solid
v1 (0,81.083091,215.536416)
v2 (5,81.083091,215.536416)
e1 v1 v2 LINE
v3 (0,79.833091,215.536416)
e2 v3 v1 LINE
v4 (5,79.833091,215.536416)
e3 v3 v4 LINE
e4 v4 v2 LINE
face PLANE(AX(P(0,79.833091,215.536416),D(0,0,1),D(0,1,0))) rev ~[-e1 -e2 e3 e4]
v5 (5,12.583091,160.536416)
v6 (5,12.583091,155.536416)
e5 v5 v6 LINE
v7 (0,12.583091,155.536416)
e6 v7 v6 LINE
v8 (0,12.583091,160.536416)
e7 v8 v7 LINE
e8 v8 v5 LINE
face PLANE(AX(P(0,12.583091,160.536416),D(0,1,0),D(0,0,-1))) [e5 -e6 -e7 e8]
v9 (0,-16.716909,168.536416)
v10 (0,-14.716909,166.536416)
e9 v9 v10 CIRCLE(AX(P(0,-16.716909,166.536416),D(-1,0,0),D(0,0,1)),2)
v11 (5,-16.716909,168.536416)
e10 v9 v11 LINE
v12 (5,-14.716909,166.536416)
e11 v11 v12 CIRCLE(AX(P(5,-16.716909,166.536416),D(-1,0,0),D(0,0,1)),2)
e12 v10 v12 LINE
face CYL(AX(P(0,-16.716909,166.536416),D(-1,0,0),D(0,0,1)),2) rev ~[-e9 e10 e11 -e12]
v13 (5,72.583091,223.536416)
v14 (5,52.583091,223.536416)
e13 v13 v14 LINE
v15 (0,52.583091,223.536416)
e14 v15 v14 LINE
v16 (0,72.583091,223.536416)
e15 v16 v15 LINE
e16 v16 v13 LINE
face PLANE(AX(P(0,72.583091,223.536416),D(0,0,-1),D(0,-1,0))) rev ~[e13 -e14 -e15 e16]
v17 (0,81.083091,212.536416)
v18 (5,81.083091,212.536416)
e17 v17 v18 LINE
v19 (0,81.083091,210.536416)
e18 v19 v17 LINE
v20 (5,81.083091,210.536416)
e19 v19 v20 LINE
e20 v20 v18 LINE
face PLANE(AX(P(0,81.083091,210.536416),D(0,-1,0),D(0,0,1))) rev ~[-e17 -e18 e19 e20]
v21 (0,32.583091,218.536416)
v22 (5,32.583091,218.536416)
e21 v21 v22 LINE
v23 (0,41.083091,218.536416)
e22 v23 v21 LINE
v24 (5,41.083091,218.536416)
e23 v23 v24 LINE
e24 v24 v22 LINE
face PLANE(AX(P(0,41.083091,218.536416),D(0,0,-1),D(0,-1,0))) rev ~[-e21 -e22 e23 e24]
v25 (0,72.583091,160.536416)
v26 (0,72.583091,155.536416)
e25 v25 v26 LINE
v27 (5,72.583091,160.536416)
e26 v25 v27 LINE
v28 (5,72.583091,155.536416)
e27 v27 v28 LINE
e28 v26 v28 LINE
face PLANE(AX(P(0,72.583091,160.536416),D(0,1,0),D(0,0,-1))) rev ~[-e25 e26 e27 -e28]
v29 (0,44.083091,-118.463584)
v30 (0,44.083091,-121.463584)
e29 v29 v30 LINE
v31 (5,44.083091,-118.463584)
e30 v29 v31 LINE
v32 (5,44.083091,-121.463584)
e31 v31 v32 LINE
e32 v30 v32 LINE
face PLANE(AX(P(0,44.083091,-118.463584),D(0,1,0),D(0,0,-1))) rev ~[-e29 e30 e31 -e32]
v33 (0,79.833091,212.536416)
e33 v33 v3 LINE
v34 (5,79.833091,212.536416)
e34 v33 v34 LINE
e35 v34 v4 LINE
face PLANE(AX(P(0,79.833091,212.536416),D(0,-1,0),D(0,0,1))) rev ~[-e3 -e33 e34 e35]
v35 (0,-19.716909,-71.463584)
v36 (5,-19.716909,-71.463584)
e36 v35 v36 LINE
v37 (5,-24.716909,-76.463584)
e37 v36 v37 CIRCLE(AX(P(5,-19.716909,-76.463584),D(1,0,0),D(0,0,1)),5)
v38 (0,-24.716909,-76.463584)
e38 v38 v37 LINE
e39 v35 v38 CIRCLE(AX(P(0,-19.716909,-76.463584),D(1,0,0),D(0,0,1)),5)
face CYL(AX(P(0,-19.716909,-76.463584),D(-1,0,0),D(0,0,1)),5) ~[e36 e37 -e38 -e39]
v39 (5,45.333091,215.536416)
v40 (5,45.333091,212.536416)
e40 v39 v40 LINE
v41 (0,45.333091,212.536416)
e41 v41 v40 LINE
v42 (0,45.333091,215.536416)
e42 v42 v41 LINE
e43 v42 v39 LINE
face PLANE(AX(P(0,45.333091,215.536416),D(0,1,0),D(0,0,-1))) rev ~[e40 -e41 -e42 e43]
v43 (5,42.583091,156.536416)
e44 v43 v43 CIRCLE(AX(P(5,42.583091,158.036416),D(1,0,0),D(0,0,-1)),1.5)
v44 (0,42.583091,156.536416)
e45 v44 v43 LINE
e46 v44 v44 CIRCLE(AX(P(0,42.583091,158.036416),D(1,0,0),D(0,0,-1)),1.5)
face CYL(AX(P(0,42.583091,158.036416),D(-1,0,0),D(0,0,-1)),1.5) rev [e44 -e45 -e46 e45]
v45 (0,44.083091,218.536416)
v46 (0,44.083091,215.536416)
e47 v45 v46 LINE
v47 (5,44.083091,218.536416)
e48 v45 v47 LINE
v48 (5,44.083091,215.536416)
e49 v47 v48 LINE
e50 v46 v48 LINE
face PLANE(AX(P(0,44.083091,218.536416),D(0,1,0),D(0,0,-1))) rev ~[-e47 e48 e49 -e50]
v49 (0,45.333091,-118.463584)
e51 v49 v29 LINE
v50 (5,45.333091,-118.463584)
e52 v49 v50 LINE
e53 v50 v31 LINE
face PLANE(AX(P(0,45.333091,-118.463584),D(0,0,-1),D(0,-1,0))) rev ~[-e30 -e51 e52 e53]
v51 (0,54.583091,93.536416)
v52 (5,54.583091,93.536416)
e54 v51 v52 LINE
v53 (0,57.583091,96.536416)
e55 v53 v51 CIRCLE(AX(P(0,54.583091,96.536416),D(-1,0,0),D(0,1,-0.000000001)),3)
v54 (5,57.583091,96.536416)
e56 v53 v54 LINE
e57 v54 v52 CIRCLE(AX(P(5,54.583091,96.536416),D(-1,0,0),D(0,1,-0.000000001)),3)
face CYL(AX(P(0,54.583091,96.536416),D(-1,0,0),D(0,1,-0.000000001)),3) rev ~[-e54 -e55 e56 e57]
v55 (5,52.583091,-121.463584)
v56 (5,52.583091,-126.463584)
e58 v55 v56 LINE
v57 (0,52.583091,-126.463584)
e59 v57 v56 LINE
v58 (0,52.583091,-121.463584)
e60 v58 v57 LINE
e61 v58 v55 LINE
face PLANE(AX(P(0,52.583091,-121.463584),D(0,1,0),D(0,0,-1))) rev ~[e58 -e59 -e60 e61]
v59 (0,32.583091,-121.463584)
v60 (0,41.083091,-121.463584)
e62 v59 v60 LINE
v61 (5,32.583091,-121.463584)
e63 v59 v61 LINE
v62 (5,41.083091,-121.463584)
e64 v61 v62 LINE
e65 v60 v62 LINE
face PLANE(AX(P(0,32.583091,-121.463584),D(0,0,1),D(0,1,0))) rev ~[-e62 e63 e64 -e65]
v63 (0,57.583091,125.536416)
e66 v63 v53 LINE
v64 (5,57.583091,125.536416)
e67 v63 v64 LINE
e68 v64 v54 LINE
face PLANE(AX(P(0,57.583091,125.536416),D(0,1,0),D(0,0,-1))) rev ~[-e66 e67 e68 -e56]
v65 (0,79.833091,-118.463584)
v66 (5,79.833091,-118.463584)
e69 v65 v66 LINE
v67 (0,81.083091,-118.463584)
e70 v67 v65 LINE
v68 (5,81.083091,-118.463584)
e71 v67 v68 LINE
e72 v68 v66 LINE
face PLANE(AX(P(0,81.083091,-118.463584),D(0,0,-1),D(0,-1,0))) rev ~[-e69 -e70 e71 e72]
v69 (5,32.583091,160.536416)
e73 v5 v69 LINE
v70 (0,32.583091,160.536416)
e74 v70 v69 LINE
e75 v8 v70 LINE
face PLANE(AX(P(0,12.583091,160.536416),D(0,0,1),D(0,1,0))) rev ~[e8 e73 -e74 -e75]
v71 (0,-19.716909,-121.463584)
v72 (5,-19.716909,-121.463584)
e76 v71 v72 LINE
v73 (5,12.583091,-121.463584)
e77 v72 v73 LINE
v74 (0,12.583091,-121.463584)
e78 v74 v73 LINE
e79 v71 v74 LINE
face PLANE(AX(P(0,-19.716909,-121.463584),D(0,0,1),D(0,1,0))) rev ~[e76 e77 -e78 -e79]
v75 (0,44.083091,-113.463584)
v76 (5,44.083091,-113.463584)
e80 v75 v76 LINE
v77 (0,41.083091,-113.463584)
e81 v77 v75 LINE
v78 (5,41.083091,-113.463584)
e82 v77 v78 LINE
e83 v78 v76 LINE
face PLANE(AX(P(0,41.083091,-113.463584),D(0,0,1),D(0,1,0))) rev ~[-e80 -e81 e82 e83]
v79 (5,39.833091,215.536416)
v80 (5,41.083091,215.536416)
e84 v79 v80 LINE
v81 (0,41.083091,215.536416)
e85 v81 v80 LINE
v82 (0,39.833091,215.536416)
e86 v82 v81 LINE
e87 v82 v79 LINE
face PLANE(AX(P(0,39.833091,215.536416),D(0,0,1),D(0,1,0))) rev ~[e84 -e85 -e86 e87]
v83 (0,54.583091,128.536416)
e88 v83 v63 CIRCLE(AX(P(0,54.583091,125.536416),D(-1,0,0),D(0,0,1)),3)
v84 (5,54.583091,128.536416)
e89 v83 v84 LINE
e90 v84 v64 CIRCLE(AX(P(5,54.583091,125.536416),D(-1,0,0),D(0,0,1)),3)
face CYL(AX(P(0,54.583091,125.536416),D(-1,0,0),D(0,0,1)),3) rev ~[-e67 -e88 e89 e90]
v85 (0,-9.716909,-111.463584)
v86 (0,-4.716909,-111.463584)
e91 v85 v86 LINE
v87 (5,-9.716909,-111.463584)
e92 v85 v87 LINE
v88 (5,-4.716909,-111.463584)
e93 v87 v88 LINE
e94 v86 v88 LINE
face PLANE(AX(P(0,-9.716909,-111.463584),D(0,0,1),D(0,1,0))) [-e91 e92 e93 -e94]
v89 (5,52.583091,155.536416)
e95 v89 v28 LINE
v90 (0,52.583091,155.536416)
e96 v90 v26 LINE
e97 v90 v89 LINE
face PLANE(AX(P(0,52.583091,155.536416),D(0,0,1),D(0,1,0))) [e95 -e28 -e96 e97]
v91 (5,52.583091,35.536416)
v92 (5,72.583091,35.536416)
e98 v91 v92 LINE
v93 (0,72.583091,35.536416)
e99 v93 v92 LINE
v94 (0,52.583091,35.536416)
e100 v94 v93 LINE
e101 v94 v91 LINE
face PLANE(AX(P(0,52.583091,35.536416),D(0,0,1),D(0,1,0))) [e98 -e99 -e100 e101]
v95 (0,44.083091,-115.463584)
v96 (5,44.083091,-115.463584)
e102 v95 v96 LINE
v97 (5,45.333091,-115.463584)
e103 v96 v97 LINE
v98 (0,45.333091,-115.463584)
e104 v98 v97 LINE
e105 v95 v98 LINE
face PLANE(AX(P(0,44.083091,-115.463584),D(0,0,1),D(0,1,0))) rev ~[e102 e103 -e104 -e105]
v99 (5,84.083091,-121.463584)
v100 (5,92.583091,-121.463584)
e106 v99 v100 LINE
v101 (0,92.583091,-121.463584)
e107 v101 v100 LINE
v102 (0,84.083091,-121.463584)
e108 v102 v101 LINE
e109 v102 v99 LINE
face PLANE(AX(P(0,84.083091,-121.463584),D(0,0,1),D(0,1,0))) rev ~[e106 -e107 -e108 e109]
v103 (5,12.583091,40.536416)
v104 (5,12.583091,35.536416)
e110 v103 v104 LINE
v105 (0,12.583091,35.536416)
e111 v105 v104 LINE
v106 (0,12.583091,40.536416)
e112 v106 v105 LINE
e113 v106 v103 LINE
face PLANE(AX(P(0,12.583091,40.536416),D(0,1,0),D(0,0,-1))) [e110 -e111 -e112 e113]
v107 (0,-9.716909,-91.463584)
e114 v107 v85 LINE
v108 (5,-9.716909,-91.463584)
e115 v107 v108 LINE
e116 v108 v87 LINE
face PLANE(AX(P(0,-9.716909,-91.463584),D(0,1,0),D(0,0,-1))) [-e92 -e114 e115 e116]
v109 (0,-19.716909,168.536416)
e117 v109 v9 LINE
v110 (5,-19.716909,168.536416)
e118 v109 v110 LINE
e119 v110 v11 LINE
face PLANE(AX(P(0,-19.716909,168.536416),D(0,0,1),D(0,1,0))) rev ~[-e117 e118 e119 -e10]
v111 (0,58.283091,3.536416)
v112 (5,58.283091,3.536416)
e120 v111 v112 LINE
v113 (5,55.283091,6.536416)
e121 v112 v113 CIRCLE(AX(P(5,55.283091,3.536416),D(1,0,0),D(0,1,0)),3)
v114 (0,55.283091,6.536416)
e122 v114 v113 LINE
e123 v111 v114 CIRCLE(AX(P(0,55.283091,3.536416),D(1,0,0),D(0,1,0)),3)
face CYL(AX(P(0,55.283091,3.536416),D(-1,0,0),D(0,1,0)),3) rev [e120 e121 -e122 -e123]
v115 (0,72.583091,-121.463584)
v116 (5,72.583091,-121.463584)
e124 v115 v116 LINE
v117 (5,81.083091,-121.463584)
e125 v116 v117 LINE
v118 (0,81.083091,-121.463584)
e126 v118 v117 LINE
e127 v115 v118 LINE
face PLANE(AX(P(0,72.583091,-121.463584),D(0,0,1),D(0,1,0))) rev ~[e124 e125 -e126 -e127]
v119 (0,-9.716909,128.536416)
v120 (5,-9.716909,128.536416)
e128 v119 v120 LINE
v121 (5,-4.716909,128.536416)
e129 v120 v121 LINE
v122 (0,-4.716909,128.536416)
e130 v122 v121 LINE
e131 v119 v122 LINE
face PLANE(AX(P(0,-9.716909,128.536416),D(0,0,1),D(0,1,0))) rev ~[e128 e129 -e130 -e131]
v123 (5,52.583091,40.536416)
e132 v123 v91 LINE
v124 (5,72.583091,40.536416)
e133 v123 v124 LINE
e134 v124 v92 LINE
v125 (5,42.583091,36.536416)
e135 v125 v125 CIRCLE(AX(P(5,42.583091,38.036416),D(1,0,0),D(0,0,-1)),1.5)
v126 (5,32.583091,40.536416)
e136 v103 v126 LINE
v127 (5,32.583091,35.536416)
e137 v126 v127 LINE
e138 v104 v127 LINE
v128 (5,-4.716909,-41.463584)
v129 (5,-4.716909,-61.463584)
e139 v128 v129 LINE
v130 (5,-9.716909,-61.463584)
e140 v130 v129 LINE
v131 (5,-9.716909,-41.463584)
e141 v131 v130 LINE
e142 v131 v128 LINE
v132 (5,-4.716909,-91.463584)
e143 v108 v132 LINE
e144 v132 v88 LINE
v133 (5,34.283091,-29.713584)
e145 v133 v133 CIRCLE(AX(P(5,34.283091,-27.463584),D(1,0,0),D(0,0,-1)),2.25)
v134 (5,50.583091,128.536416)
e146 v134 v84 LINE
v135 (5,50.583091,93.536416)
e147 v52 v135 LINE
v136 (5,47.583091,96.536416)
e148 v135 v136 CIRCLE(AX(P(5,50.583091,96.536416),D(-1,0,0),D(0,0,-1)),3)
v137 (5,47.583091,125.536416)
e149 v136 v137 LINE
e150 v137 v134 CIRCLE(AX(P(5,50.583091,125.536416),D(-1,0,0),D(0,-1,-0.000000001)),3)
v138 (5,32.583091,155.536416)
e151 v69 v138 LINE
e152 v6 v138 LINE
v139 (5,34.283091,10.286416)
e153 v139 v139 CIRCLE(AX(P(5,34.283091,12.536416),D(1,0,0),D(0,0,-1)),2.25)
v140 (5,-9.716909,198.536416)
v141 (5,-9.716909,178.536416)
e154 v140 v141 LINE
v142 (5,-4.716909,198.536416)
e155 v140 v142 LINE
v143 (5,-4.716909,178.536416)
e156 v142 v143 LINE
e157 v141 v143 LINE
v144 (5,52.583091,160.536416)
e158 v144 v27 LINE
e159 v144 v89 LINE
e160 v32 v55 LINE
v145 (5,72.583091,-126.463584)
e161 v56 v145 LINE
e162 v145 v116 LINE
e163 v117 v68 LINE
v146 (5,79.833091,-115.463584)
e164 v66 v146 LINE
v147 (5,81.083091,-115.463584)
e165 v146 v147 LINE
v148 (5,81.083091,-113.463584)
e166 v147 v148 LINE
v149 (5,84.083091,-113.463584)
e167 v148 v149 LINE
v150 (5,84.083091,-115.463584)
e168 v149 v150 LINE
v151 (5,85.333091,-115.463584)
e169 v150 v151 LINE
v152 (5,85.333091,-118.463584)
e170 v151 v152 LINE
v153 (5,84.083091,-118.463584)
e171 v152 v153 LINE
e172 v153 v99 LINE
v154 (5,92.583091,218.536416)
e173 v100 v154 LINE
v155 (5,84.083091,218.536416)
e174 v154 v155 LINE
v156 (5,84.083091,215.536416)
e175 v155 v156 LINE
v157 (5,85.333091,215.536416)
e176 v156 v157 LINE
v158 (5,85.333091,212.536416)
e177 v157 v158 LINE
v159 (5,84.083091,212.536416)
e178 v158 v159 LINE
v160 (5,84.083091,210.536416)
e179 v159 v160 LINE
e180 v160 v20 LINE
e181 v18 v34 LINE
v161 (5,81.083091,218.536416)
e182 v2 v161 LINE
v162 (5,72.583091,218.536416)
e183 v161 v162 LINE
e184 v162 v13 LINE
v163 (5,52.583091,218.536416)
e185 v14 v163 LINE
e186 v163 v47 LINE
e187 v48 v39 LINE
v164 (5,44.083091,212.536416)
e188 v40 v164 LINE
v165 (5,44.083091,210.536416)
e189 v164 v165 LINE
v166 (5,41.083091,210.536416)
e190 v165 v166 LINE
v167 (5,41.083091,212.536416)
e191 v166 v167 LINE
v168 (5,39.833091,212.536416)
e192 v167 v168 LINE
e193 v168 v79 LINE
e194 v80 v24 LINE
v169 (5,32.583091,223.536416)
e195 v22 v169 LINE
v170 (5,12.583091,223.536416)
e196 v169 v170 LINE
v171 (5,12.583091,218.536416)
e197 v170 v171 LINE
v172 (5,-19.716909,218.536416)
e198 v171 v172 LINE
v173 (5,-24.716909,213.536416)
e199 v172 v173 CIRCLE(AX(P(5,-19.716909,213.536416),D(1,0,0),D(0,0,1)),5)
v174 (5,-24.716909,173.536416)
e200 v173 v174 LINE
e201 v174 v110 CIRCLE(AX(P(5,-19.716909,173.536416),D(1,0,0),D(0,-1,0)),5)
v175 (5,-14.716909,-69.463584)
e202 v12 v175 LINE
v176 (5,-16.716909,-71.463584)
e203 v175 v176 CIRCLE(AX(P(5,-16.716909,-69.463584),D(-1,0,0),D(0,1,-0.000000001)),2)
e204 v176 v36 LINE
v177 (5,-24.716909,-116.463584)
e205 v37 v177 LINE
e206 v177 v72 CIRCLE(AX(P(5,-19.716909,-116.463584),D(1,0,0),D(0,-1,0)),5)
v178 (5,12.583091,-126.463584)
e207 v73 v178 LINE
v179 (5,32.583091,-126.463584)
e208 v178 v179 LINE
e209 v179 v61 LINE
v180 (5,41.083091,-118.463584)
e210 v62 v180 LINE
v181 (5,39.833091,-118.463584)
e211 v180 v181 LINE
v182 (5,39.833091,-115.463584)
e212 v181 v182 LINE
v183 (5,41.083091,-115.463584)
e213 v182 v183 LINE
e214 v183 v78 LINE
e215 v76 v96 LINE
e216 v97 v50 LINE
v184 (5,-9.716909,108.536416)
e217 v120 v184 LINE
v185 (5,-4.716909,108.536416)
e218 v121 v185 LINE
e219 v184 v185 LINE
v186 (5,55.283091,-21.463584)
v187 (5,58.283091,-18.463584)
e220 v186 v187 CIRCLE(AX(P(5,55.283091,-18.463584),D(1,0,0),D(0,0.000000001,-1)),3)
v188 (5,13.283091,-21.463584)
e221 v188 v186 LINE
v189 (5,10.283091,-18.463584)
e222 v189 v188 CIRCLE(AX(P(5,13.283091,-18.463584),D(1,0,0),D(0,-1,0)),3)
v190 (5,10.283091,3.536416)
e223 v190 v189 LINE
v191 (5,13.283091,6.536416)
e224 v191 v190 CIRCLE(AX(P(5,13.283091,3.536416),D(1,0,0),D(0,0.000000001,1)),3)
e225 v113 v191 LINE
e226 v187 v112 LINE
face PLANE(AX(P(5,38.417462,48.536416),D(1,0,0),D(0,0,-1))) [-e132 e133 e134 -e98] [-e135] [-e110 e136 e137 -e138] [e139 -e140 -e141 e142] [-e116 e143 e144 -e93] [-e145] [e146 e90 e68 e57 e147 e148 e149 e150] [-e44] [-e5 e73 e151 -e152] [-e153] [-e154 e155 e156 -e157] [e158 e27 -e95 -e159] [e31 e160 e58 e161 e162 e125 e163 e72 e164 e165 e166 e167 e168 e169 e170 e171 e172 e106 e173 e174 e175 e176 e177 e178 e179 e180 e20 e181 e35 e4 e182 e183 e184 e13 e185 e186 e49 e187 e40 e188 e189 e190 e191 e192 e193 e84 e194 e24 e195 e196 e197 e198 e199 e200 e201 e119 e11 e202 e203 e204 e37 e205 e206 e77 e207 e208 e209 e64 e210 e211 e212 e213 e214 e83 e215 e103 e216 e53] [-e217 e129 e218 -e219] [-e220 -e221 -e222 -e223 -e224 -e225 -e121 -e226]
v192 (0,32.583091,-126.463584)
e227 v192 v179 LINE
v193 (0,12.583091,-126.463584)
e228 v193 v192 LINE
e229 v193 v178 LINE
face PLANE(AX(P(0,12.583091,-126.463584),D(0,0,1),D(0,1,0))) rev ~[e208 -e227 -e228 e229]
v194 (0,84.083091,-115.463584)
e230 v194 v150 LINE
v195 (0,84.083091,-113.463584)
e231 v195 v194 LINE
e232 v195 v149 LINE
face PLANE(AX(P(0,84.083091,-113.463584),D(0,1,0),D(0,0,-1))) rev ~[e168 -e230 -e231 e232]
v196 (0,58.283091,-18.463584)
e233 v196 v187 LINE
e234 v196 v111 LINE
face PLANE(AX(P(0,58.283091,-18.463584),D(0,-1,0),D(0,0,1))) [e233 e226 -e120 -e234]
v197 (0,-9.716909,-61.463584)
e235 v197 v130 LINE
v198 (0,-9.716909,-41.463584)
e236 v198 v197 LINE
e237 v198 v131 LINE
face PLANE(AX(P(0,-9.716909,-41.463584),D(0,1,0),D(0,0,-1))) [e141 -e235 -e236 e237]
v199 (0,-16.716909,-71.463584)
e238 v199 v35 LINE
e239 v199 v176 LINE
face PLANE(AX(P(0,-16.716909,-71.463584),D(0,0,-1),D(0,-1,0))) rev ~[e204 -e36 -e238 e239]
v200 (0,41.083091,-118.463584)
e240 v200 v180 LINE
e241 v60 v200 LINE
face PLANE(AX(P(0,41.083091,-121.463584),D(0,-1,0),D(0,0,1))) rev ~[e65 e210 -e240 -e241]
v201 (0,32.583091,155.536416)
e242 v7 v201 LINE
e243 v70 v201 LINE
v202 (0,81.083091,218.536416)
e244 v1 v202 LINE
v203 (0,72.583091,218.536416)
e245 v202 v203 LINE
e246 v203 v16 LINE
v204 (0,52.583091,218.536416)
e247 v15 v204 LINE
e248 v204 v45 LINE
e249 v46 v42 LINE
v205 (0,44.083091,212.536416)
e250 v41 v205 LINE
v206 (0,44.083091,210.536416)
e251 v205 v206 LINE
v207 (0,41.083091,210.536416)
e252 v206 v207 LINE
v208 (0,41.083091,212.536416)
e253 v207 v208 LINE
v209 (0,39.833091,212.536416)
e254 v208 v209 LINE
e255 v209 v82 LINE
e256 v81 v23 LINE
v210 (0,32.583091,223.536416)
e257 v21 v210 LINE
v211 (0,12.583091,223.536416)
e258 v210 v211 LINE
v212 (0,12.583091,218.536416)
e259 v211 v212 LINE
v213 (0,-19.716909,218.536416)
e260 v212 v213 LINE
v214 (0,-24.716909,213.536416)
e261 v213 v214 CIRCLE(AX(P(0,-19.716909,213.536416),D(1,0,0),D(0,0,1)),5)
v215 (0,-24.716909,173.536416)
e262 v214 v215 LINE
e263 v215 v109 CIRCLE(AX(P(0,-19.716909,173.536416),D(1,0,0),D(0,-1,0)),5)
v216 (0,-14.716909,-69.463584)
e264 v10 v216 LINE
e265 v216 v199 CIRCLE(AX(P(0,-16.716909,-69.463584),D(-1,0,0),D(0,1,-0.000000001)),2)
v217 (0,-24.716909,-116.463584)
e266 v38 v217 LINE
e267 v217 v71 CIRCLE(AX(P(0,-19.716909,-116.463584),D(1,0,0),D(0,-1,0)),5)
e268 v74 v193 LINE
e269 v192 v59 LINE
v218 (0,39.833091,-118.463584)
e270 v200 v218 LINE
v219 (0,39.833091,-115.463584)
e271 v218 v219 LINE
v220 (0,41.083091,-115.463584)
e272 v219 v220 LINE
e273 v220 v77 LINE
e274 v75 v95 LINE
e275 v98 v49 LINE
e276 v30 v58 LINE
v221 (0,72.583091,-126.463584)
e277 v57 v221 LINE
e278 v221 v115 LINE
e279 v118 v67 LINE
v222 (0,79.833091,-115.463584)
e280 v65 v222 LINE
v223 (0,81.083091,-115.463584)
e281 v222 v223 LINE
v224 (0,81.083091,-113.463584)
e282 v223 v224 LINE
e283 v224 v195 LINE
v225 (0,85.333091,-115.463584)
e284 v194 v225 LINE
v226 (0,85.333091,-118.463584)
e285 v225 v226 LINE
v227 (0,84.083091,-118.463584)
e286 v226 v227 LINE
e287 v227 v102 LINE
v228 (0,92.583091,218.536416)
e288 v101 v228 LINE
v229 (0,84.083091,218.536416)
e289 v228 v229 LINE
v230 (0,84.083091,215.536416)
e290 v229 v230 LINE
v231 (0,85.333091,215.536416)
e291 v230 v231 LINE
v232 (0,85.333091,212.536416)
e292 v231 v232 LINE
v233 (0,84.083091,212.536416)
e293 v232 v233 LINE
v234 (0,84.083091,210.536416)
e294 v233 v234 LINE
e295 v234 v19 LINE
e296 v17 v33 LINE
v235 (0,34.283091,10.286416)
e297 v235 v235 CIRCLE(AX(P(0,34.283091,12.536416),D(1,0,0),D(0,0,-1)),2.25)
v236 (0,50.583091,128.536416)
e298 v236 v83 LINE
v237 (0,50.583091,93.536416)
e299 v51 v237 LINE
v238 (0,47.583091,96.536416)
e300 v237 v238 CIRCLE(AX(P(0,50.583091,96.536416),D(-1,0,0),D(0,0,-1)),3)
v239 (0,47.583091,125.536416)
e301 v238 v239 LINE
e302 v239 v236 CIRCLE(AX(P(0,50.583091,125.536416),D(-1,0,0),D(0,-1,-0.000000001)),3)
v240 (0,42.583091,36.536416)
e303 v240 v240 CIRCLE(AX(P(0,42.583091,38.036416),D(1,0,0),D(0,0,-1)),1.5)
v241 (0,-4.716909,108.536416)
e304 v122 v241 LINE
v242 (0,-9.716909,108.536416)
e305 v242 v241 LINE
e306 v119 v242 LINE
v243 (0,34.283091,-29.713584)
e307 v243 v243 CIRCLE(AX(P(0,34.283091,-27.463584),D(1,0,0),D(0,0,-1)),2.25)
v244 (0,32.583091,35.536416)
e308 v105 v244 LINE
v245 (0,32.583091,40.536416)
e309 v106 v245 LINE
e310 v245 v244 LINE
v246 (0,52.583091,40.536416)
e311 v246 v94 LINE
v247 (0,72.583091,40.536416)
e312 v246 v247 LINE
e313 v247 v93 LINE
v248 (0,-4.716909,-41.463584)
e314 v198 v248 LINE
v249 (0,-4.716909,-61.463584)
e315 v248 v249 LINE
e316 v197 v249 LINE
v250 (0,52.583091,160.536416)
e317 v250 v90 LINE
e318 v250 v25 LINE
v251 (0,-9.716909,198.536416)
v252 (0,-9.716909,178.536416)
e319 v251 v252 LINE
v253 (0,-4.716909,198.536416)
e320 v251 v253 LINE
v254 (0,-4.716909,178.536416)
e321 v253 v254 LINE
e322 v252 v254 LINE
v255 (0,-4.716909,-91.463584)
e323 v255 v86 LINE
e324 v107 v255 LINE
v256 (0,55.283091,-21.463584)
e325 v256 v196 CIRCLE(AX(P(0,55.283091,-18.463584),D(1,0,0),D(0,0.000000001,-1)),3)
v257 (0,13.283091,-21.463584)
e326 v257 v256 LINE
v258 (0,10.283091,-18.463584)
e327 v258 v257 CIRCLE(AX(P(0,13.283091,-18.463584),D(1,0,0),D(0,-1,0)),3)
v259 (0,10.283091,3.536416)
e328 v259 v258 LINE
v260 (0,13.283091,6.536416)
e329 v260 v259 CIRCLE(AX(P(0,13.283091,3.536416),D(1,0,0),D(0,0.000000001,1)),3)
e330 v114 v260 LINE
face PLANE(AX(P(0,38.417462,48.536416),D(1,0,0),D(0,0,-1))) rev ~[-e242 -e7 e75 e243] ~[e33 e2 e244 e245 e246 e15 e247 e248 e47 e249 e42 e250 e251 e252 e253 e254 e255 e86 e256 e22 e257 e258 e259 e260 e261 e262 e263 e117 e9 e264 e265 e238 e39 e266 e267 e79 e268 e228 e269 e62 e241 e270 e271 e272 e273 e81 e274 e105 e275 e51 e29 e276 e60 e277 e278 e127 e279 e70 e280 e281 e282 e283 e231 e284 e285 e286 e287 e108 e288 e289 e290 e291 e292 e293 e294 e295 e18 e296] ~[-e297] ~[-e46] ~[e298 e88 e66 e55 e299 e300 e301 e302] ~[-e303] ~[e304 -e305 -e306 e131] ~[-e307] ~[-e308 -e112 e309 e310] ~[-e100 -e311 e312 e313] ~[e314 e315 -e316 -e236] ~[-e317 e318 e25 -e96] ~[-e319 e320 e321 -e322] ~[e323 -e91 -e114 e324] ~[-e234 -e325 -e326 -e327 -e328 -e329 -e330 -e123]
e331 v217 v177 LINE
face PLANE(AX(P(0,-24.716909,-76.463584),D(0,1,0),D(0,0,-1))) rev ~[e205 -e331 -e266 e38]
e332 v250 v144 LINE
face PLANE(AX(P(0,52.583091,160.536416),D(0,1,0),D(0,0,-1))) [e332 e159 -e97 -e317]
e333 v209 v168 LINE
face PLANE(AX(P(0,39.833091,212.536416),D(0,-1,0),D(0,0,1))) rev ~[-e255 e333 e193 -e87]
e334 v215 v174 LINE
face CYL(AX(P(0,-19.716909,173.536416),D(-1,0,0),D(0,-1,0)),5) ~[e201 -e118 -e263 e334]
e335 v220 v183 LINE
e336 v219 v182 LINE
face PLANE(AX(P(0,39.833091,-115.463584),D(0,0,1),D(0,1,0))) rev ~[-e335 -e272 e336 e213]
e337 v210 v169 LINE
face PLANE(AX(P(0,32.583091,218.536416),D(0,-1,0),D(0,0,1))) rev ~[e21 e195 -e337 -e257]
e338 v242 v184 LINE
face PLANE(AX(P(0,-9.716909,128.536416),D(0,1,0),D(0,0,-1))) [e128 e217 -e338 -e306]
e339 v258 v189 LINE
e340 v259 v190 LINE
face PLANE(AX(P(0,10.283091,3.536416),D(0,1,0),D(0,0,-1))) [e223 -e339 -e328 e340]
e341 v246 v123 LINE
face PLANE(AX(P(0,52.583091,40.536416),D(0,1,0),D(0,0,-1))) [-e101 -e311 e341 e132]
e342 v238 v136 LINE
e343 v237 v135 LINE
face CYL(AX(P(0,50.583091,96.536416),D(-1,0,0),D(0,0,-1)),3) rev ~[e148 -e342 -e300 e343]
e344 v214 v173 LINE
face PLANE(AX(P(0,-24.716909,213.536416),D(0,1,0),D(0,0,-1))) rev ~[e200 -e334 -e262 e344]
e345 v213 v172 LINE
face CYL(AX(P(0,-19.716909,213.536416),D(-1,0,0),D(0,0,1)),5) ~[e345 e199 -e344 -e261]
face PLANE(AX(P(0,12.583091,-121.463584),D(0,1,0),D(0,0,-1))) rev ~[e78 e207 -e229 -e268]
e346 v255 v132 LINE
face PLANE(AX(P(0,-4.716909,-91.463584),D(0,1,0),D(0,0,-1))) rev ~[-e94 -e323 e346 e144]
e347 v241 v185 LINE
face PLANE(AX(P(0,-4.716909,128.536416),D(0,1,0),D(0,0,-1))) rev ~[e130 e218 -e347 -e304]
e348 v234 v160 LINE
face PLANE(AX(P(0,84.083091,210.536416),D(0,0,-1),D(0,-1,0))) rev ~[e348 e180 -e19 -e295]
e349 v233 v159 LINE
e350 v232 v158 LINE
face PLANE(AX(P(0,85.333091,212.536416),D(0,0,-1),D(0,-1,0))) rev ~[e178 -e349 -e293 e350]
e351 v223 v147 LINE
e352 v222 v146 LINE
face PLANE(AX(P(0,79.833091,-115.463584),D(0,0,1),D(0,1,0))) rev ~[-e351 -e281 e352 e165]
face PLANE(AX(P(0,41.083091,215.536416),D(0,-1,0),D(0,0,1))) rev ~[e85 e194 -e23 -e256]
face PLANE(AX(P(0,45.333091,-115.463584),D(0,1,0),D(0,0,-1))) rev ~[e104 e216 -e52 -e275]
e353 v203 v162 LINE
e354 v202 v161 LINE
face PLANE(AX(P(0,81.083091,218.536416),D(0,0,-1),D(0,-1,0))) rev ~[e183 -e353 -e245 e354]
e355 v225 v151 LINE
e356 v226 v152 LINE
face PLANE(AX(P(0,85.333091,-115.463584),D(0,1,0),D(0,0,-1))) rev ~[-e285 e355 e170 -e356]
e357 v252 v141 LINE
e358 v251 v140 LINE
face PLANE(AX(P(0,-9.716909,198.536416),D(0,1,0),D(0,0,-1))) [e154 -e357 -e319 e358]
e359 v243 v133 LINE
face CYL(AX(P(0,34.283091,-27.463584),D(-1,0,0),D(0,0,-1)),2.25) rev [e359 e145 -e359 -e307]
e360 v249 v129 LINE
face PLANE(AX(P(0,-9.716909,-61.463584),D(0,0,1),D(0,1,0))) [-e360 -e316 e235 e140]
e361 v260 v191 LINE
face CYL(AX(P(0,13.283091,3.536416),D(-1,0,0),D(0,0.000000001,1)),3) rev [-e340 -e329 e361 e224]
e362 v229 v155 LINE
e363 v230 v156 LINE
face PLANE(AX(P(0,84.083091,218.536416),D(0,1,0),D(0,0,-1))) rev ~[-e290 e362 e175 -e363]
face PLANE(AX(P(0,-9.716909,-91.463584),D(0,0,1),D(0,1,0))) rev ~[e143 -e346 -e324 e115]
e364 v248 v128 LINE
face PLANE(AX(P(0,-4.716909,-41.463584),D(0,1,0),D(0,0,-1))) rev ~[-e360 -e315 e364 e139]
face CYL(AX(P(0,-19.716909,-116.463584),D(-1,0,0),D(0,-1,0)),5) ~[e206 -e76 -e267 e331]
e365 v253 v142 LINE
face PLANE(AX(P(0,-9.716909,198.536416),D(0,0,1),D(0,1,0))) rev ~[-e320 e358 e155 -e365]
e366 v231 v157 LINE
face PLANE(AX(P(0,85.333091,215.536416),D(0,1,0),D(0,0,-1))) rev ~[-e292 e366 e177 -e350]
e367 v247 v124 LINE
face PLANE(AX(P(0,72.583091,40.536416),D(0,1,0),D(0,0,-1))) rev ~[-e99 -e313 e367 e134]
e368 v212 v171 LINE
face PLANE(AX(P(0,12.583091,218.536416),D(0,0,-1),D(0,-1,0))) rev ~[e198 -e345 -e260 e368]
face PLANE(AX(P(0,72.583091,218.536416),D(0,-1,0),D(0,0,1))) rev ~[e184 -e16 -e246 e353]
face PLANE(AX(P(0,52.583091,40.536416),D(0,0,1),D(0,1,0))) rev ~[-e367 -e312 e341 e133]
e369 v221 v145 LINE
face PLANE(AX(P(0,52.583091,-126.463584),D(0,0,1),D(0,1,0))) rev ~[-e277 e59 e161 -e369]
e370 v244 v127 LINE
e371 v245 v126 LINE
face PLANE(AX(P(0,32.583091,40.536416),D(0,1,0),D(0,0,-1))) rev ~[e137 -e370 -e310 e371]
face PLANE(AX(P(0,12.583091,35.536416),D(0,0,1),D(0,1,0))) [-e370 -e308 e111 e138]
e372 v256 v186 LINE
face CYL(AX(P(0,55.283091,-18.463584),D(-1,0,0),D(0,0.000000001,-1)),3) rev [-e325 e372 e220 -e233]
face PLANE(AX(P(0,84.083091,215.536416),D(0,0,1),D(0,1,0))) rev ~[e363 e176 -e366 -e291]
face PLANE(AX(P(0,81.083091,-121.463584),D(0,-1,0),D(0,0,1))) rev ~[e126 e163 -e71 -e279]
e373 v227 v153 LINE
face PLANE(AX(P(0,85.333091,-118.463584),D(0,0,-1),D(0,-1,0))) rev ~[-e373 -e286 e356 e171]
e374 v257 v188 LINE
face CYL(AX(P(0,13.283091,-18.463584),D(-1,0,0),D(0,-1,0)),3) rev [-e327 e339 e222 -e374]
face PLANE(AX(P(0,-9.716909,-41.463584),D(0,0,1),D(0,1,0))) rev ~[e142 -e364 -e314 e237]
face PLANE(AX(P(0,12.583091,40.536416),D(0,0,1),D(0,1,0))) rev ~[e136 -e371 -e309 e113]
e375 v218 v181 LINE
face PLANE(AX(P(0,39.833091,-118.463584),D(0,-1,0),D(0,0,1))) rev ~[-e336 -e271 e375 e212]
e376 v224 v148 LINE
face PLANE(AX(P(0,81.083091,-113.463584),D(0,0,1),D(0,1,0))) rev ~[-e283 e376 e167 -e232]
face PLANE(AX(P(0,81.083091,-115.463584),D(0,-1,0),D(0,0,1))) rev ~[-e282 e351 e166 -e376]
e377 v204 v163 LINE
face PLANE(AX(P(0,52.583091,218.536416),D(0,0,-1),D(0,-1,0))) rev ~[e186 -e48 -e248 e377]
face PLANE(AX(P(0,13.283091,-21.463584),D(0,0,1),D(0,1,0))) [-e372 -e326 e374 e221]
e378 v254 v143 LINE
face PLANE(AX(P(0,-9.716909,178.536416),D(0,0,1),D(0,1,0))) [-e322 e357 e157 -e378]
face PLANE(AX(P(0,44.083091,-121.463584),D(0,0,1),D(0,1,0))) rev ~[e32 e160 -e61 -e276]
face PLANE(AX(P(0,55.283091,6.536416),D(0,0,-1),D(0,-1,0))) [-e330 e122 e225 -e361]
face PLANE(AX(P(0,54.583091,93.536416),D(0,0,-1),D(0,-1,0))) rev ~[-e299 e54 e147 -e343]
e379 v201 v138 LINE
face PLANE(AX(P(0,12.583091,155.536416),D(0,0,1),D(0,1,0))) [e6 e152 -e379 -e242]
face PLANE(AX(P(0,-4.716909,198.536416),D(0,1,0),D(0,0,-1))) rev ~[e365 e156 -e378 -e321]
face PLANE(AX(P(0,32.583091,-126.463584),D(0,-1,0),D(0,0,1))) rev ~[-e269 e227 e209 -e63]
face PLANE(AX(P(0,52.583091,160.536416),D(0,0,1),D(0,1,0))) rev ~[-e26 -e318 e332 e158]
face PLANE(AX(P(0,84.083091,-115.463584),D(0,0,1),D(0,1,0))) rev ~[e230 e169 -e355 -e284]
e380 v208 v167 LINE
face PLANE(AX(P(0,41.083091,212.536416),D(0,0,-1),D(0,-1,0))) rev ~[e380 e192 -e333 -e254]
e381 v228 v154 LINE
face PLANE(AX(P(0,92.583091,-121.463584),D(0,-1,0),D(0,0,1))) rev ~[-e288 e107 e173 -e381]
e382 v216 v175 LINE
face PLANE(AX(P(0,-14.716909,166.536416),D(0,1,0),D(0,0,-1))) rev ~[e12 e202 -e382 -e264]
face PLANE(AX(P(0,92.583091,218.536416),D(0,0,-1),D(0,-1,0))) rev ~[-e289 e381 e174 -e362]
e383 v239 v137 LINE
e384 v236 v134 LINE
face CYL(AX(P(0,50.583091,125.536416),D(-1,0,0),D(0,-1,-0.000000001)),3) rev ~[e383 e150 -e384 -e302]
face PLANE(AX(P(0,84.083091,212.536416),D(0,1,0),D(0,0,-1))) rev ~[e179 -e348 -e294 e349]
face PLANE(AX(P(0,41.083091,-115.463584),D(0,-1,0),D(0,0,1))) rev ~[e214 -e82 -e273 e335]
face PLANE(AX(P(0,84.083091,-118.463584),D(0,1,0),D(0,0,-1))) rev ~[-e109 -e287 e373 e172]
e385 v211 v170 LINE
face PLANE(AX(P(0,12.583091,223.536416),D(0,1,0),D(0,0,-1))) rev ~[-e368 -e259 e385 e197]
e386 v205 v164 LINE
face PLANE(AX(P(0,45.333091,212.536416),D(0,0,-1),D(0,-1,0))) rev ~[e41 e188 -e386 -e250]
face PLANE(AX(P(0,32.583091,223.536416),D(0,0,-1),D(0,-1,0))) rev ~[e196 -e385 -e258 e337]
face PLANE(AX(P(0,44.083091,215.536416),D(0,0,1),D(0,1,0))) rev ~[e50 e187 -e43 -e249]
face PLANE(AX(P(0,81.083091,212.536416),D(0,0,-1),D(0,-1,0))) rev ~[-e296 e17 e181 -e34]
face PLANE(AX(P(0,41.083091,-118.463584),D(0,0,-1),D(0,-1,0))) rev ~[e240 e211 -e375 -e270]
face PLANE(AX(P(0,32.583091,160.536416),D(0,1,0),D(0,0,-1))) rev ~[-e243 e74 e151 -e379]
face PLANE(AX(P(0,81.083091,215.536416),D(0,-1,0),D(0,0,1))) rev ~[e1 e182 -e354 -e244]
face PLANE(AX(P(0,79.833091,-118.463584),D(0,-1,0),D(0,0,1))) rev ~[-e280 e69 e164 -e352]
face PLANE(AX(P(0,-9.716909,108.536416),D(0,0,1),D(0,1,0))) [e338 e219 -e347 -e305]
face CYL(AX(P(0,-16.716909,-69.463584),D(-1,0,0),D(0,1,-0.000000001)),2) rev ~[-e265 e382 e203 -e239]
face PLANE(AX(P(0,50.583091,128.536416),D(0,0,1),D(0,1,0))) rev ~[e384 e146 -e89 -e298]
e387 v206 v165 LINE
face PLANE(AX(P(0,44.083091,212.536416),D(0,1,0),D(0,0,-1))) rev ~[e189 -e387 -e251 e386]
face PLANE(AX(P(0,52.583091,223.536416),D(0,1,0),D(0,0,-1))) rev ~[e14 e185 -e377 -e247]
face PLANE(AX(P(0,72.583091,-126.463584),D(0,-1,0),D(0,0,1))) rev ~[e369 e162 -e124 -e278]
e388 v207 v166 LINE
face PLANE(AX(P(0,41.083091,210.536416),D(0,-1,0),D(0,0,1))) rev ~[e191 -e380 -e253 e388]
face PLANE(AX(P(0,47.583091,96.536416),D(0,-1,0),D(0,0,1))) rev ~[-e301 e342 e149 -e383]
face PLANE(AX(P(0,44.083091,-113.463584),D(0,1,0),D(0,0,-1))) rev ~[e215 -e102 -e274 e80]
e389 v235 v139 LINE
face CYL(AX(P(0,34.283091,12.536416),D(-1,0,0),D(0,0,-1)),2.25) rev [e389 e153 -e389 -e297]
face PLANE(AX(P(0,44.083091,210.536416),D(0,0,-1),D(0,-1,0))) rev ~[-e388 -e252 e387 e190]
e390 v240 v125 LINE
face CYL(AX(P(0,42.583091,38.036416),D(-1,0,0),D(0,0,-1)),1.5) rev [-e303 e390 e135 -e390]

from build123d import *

# Parameters (mm, degrees)
SKETCH_1_R      = 2.25
SKETCH_1_R_2    = 1.5
SKETCH_1_W      = 5
SKETCH_1_H      = 20
SKETCH_1_W_2    = 20
SKETCH_1_H_2    = 5
EXTRUDE_1_DEPTH = 5


with BuildPart() as part:
    # 草图1 → 凸台-拉伸1 (new body)
    with BuildSketch(Plane(origin=(0, 0, 0), x_dir=(0, 0, -1), z_dir=(1, 0, 0))):
        with BuildLine():
            Line((-168.536416178, -19.716908756), (-168.536416178, -16.716908756))
            ThreePointArc((-168.536416178, -16.716908756), (-167.950629741, -15.302695194), (-166.536416178, -14.716908756))
            Line((-166.536416178, -14.716908756), (69.463583822, -14.716908756))
            ThreePointArc((69.463583822, -14.716908756), (70.877797384, -15.302695194), (71.463583822, -16.716908756))
            Line((71.463583822, -16.716908756), (71.463583822, -19.716908756))
            ThreePointArc((71.463583822, -19.716908756), (72.928049916, -23.252442662), (76.463583822, -24.716908756))
            Line((76.463583822, -24.716908756), (116.463583822, -24.716908756))
            ThreePointArc((116.463583822, -24.716908756), (119.999117728, -23.252442662), (121.463583822, -19.716908756))
            Line((121.463583822, -19.716908756), (121.463583822, 12.583091244))
            Line((121.463583822, 12.583091244), (126.463583822, 12.583091244))
            Line((126.463583822, 12.583091244), (126.463583822, 32.583091244))
            Line((126.463583822, 32.583091244), (121.463583822, 32.583091244))
            Line((121.463583822, 32.583091244), (121.463583822, 41.083091244))
            Line((121.463583822, 41.083091244), (118.463583822, 41.083091244))
            Line((118.463583822, 41.083091244), (118.463583822, 39.833091244))
            Line((118.463583822, 39.833091244), (115.463583822, 39.833091244))
            Line((115.463583822, 39.833091244), (115.463583822, 41.083091244))
            Line((115.463583822, 41.083091244), (113.463583822, 41.083091244))
            Line((113.463583822, 41.083091244), (113.463583822, 44.083091244))
            Line((113.463583822, 44.083091244), (115.463583822, 44.083091244))
            Line((115.463583822, 44.083091244), (115.463583822, 45.333091244))
            Line((115.463583822, 45.333091244), (118.463583822, 45.333091244))
            Line((118.463583822, 45.333091244), (118.463583822, 44.083091244))
            Line((118.463583822, 44.083091244), (121.463583822, 44.083091244))
            Line((121.463583822, 44.083091244), (121.463583822, 52.583091244))
            Line((121.463583822, 52.583091244), (126.463583822, 52.583091244))
            Line((126.463583822, 52.583091244), (126.463583822, 72.583091244))
            Line((126.463583822, 72.583091244), (121.463583822, 72.583091244))
            Line((121.463583822, 72.583091244), (121.463583822, 81.083091244))
            Line((121.463583822, 81.083091244), (118.463583822, 81.083091244))
            Line((118.463583822, 81.083091244), (118.463583822, 79.833091244))
            Line((118.463583822, 79.833091244), (115.463583822, 79.833091244))
            Line((115.463583822, 79.833091244), (115.463583822, 81.083091244))
            Line((115.463583822, 81.083091244), (113.463583822, 81.083091244))
            Line((113.463583822, 81.083091244), (113.463583822, 84.083091244))
            Line((113.463583822, 84.083091244), (115.463583822, 84.083091244))
            Line((115.463583822, 84.083091244), (115.463583822, 85.333091244))
            Line((115.463583822, 85.333091244), (118.463583822, 85.333091244))
            Line((118.463583822, 85.333091244), (118.463583822, 84.083091244))
            Line((118.463583822, 84.083091244), (121.463583822, 84.083091244))
            Line((121.463583822, 84.083091244), (121.463583822, 92.583091244))
            Line((121.463583822, 92.583091244), (-218.536416178, 92.583091244))
            Line((-218.536416178, 92.583091244), (-218.536416178, 84.083091244))
            Line((-218.536416178, 84.083091244), (-215.536416178, 84.083091244))
            Line((-215.536416178, 84.083091244), (-215.536416178, 85.333091244))
            Line((-215.536416178, 85.333091244), (-212.536416178, 85.333091244))
            Line((-212.536416178, 85.333091244), (-212.536416178, 84.083091244))
            Line((-212.536416178, 84.083091244), (-210.536416178, 84.083091244))
            Line((-210.536416178, 84.083091244), (-210.536416178, 81.083091244))
            Line((-210.536416178, 81.083091244), (-212.536416178, 81.083091244))
            Line((-212.536416178, 81.083091244), (-212.536416178, 79.833091244))
            Line((-212.536416178, 79.833091244), (-215.536416178, 79.833091244))
            Line((-215.536416178, 79.833091244), (-215.536416178, 81.083091244))
            Line((-215.536416178, 81.083091244), (-218.536416178, 81.083091244))
            Line((-218.536416178, 81.083091244), (-218.536416178, 72.583091244))
            Line((-218.536416178, 72.583091244), (-223.536416178, 72.583091244))
            Line((-223.536416178, 72.583091244), (-223.536416178, 52.583091244))
            Line((-223.536416178, 52.583091244), (-218.536416178, 52.583091244))
            Line((-218.536416178, 52.583091244), (-218.536416178, 44.083091244))
            Line((-218.536416178, 44.083091244), (-215.536416178, 44.083091244))
            Line((-215.536416178, 44.083091244), (-215.536416178, 45.333091244))
            Line((-215.536416178, 45.333091244), (-212.536416178, 45.333091244))
            Line((-212.536416178, 45.333091244), (-212.536416178, 44.083091244))
            Line((-212.536416178, 44.083091244), (-210.536416178, 44.083091244))
            Line((-210.536416178, 44.083091244), (-210.536416178, 41.083091244))
            Line((-210.536416178, 41.083091244), (-212.536416178, 41.083091244))
            Line((-212.536416178, 41.083091244), (-212.536416178, 39.833091244))
            Line((-212.536416178, 39.833091244), (-215.536416178, 39.833091244))
            Line((-215.536416178, 39.833091244), (-215.536416178, 41.083091244))
            Line((-215.536416178, 41.083091244), (-218.536416178, 41.083091244))
            Line((-218.536416178, 41.083091244), (-218.536416178, 32.583091244))
            Line((-218.536416178, 32.583091244), (-223.536416178, 32.583091244))
            Line((-223.536416178, 32.583091244), (-223.536416178, 12.583091244))
            Line((-223.536416178, 12.583091244), (-218.536416178, 12.583091244))
            Line((-218.536416178, 12.583091244), (-218.536416178, -19.716908756))
            ThreePointArc((-218.536416178, -19.716908756), (-217.071950084, -23.252442662), (-213.536416178, -24.716908756))
            Line((-213.536416178, -24.716908756), (-173.536416178, -24.716908756))
            ThreePointArc((-173.536416178, -24.716908756), (-170.000882272, -23.252442662), (-168.536416178, -19.716908756))
        make_face()
        with Locations((27.463583822, 34.283091244)):
            Circle(SKETCH_1_R, mode=Mode.SUBTRACT)
        with Locations((-12.536416178, 34.283091244)):
            Circle(SKETCH_1_R, mode=Mode.SUBTRACT)
        with Locations((-38.036416178, 42.583091244)):
            Circle(SKETCH_1_R_2, mode=Mode.SUBTRACT)
        with Locations((-158.036416178, 42.583091244)):
            Circle(SKETCH_1_R_2, mode=Mode.SUBTRACT)
        with Locations((-38.036416178, 62.583091244)):
            Rectangle(SKETCH_1_W, SKETCH_1_H, mode=Mode.SUBTRACT)
        with Locations((-38.036416178, 22.583091244)):
            Rectangle(SKETCH_1_W, SKETCH_1_H, mode=Mode.SUBTRACT)
        with Locations((-158.036416178, 62.583091244)):
            Rectangle(SKETCH_1_W, SKETCH_1_H, mode=Mode.SUBTRACT)
        with Locations((-158.036416178, 22.583091244)):
            Rectangle(SKETCH_1_W, SKETCH_1_H, mode=Mode.SUBTRACT)
        with Locations((-118.536416178, -7.216908756)):
            Rectangle(SKETCH_1_W_2, SKETCH_1_H_2, mode=Mode.SUBTRACT)
        with Locations((-188.536416178, -7.216908756)):
            Rectangle(SKETCH_1_W_2, SKETCH_1_H_2, mode=Mode.SUBTRACT)
        with Locations((101.463583822, -7.216908756)):
            Rectangle(SKETCH_1_W_2, SKETCH_1_H_2, mode=Mode.SUBTRACT)
        with Locations((51.463583822, -7.216908756)):
            Rectangle(SKETCH_1_W_2, SKETCH_1_H_2, mode=Mode.SUBTRACT)
        with BuildLine():
            Line((18.463583822, 58.283091244), (-3.536416178, 58.283091244))
            ThreePointArc((-3.536416178, 58.283091244), (-5.657736522, 57.404411587), (-6.536416178, 55.283091244))
            Line((-6.536416178, 55.283091244), (-6.536416178, 13.283091244))
            ThreePointArc((-6.536416178, 13.283091244), (-5.657736522, 11.1617709), (-3.536416178, 10.283091244))
            Line((-3.536416178, 10.283091244), (18.463583822, 10.283091244))
            ThreePointArc((18.463583822, 10.283091244), (20.584904165, 11.1617709), (21.463583822, 13.283091244))
            Line((21.463583822, 13.283091244), (21.463583822, 55.283091244))
            ThreePointArc((21.463583822, 55.283091244), (20.584904165, 57.404411587), (18.463583822, 58.283091244))
        make_face(mode=Mode.SUBTRACT)
        with BuildLine():
            Line((-125.536416178, 57.583091244), (-96.536416178, 57.583091244))
            ThreePointArc((-96.536416178, 57.583091244), (-94.415095835, 56.704411587), (-93.536416178, 54.583091244))
            Line((-93.536416178, 54.583091244), (-93.536416178, 50.583091244))
            ThreePointArc((-93.536416178, 50.583091244), (-94.415095835, 48.4617709), (-96.536416178, 47.583091244))
            Line((-96.536416178, 47.583091244), (-125.536416178, 47.583091244))
            ThreePointArc((-125.536416178, 47.583091244), (-127.657736522, 48.4617709), (-128.536416178, 50.583091244))
            Line((-128.536416178, 50.583091244), (-128.536416178, 54.583091244))
            ThreePointArc((-128.536416178, 54.583091244), (-127.657736522, 56.704411587), (-125.536416178, 57.583091244))
        make_face(mode=Mode.SUBTRACT)
    extrude(amount=EXTRUDE_1_DEPTH)


solid = part.part
